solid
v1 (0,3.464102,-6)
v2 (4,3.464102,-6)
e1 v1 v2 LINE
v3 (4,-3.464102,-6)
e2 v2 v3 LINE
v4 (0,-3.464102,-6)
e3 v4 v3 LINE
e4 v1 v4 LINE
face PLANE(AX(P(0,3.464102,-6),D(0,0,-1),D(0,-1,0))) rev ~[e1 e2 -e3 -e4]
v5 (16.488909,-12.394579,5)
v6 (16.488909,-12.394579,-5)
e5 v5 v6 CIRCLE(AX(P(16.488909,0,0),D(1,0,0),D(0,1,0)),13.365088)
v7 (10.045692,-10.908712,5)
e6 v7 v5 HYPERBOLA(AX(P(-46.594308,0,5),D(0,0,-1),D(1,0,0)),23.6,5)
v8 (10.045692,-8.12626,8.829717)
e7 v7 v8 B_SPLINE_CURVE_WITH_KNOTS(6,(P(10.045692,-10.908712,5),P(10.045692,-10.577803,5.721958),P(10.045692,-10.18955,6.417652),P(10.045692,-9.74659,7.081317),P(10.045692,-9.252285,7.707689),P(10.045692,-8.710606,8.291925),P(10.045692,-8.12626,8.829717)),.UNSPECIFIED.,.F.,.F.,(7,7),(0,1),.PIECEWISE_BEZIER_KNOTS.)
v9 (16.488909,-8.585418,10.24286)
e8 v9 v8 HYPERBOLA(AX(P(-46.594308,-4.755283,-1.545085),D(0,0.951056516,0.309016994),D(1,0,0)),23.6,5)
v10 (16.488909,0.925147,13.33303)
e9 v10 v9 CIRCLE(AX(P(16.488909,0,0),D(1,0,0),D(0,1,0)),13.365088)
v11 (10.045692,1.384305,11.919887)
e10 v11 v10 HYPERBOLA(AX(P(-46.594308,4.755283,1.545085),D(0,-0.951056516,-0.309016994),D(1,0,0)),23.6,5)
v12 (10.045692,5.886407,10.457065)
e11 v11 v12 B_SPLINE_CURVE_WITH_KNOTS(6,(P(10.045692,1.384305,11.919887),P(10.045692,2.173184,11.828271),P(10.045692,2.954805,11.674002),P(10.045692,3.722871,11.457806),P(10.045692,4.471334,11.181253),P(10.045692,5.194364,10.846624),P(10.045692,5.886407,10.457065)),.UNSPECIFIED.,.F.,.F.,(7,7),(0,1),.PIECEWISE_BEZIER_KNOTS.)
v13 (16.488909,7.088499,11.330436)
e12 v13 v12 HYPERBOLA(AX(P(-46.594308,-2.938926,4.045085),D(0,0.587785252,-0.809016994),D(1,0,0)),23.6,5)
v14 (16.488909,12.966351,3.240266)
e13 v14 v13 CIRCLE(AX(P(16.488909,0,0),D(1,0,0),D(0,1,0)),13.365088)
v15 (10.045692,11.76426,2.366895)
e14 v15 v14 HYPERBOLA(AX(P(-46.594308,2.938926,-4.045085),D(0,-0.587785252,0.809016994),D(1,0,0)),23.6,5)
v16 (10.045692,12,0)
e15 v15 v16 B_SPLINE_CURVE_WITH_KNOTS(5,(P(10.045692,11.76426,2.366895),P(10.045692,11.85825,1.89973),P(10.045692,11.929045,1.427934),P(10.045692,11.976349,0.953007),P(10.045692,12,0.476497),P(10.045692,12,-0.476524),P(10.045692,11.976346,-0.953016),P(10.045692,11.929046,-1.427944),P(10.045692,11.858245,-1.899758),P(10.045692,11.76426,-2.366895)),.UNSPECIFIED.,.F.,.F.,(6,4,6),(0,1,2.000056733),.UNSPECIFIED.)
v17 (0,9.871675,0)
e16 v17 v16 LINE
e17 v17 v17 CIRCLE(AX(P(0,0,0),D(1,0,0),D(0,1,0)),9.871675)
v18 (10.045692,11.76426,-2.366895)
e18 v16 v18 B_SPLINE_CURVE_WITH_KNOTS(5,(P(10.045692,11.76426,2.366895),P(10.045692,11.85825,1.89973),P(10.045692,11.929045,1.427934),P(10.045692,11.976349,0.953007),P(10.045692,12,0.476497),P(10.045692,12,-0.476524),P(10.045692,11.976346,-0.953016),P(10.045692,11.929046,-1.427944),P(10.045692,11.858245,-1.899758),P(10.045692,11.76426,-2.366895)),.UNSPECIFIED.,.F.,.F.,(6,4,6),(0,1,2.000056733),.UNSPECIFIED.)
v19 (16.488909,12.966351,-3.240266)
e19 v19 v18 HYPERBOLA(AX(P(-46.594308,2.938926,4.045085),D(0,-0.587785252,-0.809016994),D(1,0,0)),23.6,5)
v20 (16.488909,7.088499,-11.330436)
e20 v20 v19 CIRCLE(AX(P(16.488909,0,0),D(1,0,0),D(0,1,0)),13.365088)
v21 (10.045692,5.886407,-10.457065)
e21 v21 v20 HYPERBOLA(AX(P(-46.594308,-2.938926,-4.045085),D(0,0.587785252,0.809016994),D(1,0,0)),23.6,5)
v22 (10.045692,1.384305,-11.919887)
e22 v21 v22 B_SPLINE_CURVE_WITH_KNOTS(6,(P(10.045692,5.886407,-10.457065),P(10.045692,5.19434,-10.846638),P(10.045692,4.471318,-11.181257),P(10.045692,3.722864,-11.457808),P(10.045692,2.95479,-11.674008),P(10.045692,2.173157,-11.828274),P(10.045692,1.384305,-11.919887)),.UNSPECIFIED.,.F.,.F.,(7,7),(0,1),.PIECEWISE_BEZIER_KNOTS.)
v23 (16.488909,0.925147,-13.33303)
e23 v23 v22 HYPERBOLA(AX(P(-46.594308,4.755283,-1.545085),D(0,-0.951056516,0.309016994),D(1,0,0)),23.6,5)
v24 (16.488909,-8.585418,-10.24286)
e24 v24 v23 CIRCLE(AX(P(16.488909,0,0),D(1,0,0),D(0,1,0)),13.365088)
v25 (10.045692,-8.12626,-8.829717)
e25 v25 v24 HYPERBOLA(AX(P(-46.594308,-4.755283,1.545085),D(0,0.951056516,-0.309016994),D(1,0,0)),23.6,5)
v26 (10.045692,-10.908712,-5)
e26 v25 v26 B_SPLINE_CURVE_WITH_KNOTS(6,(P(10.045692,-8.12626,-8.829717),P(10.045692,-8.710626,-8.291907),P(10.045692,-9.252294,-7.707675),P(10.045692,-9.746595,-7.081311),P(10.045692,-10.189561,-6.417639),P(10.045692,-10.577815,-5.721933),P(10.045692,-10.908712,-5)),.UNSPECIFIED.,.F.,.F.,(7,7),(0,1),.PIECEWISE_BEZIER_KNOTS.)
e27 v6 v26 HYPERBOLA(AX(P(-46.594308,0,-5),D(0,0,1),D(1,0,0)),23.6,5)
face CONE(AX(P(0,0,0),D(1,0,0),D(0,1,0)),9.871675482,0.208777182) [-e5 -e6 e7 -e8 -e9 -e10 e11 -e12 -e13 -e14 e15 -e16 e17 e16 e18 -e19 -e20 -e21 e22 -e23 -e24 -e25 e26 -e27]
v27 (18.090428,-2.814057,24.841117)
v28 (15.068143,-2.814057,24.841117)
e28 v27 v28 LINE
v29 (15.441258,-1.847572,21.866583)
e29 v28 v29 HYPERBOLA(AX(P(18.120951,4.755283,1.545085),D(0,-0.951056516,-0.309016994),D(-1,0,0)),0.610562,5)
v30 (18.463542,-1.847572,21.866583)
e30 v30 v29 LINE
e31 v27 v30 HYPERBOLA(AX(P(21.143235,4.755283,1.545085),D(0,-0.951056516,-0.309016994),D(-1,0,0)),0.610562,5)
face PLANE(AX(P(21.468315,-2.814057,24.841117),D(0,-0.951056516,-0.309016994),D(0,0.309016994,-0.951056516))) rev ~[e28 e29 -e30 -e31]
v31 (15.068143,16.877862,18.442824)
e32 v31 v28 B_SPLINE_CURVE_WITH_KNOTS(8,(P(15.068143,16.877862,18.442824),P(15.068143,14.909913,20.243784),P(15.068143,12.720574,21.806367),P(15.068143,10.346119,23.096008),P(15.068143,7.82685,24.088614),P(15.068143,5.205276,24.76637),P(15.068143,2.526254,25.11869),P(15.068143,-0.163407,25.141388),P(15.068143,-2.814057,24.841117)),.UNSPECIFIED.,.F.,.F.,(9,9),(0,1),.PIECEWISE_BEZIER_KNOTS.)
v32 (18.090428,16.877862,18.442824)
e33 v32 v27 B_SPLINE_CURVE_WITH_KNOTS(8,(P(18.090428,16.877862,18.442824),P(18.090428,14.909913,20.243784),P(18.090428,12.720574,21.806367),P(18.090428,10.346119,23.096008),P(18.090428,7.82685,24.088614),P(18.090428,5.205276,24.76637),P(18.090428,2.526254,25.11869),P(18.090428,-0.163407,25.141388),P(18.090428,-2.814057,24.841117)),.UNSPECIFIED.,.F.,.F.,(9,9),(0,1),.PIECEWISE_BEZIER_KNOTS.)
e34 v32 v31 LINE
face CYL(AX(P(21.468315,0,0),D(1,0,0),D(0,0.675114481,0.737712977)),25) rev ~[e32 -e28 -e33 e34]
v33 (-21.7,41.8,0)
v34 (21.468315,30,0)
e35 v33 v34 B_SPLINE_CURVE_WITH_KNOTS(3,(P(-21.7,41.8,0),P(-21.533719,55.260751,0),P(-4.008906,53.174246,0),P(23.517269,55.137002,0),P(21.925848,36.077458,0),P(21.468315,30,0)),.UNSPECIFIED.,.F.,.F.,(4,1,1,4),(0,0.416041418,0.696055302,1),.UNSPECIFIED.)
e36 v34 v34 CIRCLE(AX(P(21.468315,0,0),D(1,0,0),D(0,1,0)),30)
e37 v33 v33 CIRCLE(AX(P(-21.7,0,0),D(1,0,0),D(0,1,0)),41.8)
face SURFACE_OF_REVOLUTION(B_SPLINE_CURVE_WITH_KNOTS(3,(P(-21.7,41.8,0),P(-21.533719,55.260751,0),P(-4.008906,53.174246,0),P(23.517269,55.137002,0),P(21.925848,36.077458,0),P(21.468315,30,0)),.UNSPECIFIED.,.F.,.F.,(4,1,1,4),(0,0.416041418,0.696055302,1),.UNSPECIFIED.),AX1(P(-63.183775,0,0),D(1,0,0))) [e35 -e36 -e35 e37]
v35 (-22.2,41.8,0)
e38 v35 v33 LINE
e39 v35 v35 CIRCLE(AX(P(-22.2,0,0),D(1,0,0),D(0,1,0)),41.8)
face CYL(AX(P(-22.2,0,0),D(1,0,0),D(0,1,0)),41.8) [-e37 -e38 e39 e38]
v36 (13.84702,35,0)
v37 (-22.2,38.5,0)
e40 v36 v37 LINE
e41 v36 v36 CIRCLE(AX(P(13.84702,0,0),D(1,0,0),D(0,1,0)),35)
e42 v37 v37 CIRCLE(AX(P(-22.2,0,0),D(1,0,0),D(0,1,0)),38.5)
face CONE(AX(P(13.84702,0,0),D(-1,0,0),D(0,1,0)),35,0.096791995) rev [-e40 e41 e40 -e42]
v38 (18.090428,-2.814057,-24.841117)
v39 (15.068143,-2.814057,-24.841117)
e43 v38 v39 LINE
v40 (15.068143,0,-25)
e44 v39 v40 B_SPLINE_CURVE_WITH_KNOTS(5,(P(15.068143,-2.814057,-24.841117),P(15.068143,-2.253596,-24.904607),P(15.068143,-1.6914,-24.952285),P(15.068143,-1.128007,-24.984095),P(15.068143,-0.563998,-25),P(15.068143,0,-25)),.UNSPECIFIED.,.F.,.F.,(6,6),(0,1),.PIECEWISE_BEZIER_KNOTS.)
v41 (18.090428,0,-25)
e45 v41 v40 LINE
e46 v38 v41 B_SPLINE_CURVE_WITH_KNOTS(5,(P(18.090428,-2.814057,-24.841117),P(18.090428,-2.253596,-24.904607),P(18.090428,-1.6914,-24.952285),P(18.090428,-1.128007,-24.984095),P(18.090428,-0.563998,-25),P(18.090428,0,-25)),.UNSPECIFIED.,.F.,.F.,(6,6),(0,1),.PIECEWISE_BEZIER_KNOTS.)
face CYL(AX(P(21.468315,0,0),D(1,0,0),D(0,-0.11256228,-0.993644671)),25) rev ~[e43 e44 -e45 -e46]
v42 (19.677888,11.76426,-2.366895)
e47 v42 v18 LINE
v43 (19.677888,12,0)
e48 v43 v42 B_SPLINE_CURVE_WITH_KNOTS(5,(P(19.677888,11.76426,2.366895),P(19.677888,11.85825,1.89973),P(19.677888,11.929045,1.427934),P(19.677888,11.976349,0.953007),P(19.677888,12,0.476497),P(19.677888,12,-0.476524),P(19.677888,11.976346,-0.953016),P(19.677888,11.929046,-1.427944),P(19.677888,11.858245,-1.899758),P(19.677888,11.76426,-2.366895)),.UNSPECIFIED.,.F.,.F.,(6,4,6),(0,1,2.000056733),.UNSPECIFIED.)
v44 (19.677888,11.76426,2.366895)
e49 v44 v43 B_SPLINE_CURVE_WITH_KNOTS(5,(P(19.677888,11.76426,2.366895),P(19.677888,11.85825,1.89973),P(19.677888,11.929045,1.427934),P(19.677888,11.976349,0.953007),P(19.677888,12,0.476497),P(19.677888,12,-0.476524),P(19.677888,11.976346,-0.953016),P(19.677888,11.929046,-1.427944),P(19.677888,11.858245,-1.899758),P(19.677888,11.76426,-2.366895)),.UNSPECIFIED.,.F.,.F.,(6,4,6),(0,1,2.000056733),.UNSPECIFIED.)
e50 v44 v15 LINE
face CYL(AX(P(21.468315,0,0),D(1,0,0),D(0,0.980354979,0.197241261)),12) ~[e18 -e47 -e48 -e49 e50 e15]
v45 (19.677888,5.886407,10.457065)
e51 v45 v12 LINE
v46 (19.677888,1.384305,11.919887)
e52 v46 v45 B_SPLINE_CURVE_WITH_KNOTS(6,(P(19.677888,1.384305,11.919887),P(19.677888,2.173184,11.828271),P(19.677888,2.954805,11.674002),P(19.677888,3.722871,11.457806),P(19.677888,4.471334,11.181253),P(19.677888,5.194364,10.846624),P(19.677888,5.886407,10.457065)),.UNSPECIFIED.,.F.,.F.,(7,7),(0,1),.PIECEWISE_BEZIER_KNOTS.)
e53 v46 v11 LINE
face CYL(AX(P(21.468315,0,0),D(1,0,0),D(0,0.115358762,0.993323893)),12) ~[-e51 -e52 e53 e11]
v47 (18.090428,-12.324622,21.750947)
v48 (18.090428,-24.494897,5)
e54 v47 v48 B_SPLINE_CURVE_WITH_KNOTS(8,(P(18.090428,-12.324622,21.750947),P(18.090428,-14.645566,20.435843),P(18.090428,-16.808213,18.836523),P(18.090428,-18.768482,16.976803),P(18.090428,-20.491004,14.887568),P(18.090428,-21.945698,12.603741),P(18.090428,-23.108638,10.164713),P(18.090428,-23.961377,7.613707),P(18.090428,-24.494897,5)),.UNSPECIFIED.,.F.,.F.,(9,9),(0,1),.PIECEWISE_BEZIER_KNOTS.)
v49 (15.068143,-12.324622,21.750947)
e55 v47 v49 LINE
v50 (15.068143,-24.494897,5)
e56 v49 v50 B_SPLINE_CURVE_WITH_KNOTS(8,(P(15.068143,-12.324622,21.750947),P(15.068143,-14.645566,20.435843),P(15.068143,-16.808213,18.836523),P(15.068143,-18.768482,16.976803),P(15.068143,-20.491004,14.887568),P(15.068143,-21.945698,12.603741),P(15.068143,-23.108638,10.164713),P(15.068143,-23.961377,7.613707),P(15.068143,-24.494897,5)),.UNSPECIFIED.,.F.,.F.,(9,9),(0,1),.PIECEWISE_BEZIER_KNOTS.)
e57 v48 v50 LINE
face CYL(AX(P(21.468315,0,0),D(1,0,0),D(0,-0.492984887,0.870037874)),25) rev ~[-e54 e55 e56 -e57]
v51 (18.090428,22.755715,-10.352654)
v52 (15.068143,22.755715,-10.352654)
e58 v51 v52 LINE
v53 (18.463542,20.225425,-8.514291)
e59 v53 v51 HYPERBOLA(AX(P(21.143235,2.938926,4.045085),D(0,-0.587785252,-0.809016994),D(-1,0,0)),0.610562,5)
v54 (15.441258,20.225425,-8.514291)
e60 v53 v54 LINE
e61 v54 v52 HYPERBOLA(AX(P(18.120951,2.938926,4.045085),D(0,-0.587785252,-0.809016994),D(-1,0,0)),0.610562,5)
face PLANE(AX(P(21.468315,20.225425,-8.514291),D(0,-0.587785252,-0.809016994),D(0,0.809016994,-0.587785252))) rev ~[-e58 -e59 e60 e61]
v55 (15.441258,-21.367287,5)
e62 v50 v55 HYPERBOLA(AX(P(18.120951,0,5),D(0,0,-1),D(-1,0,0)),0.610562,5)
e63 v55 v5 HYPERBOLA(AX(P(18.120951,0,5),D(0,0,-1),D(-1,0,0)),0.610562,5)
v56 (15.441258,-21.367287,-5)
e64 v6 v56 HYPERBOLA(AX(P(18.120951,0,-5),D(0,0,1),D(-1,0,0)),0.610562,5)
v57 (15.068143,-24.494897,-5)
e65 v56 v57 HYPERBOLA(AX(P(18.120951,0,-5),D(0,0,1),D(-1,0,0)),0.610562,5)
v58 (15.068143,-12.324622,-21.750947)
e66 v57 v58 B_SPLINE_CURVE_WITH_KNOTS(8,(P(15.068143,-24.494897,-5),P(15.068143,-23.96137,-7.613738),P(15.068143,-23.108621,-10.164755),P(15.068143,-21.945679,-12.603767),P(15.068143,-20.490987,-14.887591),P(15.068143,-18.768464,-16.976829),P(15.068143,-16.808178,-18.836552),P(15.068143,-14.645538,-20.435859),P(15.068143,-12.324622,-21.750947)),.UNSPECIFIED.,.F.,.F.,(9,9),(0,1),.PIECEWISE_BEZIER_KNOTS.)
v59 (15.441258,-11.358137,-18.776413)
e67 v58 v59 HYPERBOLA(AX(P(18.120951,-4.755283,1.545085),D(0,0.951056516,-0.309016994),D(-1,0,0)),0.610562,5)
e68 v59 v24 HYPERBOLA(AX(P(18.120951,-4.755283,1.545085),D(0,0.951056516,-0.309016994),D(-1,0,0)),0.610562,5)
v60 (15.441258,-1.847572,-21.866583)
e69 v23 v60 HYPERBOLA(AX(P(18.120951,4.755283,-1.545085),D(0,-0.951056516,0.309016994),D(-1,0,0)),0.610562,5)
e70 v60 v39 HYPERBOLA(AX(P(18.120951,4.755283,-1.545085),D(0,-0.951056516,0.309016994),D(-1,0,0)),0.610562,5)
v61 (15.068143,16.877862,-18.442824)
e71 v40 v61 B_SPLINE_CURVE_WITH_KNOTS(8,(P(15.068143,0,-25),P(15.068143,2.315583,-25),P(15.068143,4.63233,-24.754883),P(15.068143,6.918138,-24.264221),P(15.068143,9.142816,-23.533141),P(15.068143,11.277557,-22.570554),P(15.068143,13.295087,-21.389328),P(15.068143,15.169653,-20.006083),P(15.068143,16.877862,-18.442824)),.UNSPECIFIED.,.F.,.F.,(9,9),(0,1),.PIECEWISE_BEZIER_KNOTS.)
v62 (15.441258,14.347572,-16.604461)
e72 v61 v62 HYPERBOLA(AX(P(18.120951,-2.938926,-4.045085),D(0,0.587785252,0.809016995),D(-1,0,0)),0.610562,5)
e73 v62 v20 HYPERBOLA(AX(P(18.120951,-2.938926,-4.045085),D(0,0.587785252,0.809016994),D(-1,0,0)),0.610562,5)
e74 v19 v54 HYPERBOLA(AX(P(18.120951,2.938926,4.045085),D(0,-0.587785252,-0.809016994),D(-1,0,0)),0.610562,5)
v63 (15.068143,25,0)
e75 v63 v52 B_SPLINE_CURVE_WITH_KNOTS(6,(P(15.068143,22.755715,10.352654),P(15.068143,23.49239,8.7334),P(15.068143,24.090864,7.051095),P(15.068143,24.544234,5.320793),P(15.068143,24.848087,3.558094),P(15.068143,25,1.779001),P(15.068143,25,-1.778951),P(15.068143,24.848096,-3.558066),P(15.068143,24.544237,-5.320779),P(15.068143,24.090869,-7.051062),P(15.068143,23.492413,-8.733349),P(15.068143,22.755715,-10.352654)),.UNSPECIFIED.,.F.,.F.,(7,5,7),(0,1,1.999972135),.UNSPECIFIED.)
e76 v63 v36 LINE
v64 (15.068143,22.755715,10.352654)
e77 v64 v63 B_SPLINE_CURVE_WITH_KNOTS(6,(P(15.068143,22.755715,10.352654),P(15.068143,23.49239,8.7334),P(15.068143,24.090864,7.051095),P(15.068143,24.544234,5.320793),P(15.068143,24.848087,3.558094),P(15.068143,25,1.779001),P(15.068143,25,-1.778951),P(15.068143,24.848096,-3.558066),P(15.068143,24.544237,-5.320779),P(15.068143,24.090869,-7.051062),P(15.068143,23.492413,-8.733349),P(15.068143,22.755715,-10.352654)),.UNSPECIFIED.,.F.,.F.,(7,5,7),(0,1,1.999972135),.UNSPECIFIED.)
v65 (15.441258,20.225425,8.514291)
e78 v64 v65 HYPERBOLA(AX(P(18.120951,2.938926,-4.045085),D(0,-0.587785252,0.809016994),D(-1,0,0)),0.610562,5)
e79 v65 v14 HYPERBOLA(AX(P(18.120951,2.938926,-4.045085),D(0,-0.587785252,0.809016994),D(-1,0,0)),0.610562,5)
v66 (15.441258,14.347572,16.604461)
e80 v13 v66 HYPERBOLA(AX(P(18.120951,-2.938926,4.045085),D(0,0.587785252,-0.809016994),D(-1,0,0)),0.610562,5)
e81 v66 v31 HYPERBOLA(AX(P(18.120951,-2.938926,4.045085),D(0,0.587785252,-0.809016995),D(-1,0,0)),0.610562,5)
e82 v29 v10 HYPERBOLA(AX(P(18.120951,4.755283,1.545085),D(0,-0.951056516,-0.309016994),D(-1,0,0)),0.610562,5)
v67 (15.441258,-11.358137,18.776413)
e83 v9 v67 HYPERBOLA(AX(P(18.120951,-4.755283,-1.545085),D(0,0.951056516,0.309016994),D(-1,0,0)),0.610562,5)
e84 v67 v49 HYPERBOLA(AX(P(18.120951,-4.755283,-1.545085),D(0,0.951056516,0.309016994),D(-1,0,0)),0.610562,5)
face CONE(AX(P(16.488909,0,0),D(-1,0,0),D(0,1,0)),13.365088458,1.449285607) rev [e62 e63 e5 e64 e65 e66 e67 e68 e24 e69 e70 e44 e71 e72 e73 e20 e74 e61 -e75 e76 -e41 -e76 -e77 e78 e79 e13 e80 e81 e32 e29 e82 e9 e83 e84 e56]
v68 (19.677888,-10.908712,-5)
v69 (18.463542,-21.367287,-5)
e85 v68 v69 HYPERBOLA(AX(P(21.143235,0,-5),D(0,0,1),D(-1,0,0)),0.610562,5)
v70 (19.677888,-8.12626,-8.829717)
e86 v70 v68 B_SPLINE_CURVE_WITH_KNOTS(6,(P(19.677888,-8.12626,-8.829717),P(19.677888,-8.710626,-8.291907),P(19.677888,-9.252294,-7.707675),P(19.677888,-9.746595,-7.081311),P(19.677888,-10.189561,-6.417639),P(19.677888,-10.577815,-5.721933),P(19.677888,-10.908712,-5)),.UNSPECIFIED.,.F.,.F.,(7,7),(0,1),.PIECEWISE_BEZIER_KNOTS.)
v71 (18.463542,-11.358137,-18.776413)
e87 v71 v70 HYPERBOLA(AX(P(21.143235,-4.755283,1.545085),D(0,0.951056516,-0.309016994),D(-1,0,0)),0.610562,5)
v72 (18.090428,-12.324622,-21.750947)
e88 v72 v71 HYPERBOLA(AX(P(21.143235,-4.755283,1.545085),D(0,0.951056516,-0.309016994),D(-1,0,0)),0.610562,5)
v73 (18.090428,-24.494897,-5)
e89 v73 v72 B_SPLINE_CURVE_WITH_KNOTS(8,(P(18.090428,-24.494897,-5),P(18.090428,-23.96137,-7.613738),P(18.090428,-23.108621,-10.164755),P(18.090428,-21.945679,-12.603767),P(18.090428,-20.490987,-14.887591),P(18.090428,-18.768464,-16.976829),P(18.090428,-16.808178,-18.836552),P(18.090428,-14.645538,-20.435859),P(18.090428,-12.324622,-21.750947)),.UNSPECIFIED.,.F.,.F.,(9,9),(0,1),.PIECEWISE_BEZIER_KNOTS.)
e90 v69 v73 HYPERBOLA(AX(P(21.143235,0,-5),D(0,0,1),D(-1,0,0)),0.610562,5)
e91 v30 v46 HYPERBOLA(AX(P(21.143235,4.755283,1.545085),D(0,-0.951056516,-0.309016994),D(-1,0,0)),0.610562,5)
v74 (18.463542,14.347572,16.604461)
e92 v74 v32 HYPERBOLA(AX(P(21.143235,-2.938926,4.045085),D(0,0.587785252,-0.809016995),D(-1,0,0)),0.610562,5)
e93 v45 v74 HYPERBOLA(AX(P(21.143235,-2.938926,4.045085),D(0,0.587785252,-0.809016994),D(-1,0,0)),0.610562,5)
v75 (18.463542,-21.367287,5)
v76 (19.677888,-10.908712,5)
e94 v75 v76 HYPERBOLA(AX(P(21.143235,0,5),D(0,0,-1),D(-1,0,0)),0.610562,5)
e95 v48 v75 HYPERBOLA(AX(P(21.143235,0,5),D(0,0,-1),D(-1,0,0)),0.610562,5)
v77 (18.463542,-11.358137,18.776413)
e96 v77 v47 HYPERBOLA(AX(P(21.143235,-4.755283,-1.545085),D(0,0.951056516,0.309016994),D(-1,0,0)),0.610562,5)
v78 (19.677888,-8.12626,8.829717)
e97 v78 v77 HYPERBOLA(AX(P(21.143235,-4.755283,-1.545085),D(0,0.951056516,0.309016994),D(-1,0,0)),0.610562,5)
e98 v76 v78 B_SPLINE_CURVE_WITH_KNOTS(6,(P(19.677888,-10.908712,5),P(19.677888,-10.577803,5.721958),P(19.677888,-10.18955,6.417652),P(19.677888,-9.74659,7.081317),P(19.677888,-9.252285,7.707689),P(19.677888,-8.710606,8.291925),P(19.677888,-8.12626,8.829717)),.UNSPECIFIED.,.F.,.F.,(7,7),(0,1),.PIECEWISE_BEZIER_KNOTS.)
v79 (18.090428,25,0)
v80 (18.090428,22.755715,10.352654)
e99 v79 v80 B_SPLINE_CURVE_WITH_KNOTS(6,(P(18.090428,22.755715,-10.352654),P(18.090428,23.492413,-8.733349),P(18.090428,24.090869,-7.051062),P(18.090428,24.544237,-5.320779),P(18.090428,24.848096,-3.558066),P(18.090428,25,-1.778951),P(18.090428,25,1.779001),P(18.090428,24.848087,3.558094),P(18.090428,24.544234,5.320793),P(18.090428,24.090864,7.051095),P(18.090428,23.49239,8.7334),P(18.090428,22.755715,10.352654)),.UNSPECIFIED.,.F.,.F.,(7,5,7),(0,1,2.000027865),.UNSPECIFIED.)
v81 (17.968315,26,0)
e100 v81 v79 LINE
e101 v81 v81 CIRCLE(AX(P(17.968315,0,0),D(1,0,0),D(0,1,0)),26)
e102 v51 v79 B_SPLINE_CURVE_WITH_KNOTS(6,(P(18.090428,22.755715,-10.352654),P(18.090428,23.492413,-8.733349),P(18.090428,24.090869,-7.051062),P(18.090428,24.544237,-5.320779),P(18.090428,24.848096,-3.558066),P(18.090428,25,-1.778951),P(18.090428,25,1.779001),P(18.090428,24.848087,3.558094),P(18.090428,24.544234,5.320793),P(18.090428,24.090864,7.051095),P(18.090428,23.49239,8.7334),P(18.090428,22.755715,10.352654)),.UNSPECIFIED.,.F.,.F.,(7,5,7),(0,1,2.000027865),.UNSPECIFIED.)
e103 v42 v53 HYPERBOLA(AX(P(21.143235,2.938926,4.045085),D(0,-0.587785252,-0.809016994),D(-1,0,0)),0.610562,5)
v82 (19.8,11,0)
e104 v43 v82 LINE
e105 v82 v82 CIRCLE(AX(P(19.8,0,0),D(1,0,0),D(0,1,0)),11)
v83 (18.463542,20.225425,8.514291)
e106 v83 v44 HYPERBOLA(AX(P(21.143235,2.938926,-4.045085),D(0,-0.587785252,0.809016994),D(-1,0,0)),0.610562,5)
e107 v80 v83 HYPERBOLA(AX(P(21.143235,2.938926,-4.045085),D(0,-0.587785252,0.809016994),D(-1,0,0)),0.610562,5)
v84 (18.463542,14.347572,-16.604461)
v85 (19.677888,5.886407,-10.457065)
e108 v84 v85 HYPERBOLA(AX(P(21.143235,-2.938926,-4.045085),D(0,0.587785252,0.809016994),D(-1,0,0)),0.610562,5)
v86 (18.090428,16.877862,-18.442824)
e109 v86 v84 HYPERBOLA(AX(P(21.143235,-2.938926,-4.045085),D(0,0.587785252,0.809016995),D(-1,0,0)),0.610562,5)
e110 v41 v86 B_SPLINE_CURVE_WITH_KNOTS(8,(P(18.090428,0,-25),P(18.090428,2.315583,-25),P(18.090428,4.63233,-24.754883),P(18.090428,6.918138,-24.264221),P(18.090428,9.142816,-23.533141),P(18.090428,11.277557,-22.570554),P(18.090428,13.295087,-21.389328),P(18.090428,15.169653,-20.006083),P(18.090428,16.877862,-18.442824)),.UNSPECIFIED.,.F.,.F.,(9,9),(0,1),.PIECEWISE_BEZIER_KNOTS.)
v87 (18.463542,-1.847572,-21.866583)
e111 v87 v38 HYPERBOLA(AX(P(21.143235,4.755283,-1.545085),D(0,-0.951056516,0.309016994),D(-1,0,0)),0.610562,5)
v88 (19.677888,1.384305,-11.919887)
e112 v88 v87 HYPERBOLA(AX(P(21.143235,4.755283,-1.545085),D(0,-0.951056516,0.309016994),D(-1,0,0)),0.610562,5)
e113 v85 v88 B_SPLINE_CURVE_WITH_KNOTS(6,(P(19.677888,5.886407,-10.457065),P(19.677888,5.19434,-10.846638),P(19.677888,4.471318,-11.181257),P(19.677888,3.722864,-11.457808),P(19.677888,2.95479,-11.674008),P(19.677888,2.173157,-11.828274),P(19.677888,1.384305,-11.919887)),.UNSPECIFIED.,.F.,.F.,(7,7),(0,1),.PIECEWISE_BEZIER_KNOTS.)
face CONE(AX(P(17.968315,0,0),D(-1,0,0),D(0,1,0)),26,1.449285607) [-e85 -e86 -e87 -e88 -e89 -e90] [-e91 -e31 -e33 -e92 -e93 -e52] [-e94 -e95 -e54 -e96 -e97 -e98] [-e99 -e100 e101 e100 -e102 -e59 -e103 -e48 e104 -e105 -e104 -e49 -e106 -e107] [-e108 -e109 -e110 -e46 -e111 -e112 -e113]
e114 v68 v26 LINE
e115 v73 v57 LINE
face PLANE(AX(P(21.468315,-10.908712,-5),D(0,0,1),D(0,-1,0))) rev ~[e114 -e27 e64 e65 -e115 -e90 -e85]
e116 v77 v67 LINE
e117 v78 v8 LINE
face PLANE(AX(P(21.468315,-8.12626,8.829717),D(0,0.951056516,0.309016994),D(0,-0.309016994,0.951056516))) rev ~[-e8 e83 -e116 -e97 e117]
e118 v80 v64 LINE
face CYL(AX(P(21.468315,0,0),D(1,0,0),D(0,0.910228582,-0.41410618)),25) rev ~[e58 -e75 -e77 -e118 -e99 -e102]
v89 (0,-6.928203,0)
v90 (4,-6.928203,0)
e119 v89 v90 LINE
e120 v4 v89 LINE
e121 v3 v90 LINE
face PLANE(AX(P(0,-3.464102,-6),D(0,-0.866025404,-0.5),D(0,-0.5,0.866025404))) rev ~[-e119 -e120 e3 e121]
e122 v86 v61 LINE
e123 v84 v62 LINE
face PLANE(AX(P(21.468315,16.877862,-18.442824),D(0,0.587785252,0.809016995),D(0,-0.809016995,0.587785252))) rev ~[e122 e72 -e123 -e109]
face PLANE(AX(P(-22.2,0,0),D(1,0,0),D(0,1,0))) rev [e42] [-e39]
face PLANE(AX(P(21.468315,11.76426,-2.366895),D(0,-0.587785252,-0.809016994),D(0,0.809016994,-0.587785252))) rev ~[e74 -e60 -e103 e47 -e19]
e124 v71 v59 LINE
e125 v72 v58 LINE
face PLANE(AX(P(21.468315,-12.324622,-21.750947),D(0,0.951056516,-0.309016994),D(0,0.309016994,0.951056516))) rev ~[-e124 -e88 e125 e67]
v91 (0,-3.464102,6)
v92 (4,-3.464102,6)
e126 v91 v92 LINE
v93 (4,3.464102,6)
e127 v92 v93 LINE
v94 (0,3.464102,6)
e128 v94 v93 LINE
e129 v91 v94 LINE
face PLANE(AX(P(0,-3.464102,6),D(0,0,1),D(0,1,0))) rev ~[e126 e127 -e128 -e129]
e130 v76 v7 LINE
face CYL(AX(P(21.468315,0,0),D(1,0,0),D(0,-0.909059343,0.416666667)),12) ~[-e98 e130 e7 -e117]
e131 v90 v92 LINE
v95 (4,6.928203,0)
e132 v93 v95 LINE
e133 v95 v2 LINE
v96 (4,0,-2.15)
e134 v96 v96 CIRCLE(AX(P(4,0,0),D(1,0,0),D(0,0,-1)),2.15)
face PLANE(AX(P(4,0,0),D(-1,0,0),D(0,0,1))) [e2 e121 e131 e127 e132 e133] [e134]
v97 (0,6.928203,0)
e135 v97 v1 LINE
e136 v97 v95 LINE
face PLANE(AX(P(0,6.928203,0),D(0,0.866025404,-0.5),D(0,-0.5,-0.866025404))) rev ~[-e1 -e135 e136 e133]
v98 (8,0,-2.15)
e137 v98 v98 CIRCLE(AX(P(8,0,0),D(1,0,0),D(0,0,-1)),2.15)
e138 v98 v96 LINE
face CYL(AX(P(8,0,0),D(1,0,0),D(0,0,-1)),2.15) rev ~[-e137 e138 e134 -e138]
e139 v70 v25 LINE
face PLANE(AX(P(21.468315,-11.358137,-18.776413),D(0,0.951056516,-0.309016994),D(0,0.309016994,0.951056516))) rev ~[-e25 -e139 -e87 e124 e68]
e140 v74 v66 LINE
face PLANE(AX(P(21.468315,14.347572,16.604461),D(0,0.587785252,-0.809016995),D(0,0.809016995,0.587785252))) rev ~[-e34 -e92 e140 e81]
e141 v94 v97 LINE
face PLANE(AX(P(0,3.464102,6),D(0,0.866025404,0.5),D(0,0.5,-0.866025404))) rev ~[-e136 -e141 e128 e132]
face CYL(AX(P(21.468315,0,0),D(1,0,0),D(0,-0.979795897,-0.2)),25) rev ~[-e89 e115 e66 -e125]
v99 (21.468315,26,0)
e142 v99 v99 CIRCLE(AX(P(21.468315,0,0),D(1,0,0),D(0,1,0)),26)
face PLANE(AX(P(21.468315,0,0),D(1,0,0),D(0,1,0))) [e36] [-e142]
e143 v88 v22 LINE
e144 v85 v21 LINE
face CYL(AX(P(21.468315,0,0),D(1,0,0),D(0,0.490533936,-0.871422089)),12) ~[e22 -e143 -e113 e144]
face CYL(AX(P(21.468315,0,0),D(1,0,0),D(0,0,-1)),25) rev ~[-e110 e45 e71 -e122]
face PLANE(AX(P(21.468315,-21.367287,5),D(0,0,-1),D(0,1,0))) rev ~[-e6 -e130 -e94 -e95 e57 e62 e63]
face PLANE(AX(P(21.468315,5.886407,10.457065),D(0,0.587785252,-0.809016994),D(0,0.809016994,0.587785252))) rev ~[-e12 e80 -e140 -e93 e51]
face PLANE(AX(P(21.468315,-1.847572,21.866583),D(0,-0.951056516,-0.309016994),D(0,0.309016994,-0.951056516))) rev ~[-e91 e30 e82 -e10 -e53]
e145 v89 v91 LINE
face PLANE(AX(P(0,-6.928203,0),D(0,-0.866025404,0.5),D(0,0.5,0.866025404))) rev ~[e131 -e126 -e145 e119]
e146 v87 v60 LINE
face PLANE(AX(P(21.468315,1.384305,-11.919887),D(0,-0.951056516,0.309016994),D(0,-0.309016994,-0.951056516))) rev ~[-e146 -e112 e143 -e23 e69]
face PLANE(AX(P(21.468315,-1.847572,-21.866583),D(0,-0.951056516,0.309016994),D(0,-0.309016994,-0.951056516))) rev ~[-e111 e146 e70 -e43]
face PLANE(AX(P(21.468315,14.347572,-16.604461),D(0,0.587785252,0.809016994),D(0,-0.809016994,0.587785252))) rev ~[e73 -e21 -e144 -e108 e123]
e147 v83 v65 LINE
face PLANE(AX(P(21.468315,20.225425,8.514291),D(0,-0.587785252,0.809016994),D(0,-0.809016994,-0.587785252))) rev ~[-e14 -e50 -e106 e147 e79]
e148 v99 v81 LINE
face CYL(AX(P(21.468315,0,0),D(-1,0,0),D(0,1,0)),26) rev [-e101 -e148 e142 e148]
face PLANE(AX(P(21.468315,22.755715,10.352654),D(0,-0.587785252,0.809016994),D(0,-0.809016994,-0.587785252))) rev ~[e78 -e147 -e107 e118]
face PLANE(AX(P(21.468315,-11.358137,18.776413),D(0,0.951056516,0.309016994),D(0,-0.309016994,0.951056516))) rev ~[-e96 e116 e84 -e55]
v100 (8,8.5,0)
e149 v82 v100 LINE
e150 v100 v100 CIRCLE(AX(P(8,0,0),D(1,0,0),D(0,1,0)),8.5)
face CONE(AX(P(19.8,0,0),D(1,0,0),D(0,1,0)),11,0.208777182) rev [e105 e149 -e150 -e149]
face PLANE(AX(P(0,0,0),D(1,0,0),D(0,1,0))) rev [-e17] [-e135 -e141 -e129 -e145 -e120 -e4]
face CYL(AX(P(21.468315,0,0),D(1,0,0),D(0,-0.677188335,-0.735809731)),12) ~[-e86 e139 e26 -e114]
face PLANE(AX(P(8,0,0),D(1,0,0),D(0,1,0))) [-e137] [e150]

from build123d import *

# Parameters (mm, degrees)
CUT_EXTRUDE1_REACH = 32.2
SKETCH3_R          = 2.15
CUT_EXTRUDE2_REACH = 45.668
CUT_EXTRUDE3_DEPTH = 4


with BuildPart() as part:
    # Sketch2 → Revolve1 (revolve)
    with BuildSketch(Plane.XY):
        with BuildLine():
            Line((0, 0), (0, 9.871675482))
            Line((0, 9.871675482), (16.488909248, 13.365088458))
            Line((16.488909248, 13.365088458), (13.847020393, 35))
            Line((13.847020393, 35), (-22.2, 38.5))
            Line((-22.2, 38.5), (-22.2, 41.8))
            Line((-22.2, 41.8), (-21.7, 41.8))
            add(Edge.make_bspline(
                [(-21.7, 41.8), (-21.533718516, 55.260750985), (-4.008905518, 53.174245615), (23.517269043, 55.137002211), (21.925848048, 36.077457734), (21.468315468, 30)],
                knots=[0, 0, 0, 0, 0.416041418, 0.696055302, 1, 1, 1, 1], degree=3))
            Line((21.468315468, 30), (21.468315468, 26))
            Line((21.468315468, 26), (17.968315468, 26))
            Line((17.968315468, 26), (19.8, 11))
            Line((19.8, 11), (8, 8.5))
            Line((8, 8.5), (8, 0))
            Line((8, 0), (0, 0))
        make_face()
    revolve(axis=Axis((-63.183775164, 0, 0), (1, 0, 0)))

    # Sketch3 → Cut-Extrude1 (cut, up to next)
    with BuildSketch(Plane(origin=(8, 0, 0), x_dir=(0, 0, -1), z_dir=(1, 0, 0)), mode=Mode.PRIVATE) as cut_extrude1_sk1:
        Circle(SKETCH3_R)
    cut_extrude1_tool1 = extrude(cut_extrude1_sk1.sketch, amount=-CUT_EXTRUDE1_REACH, mode=Mode.PRIVATE) & part.part
    add(cut_extrude1_tool1.solids().sort_by_distance((8, 0, 0))[0], mode=Mode.SUBTRACT)

    # Sketch4 → Cut-Extrude2 (cut, up to next)
    with BuildSketch(Plane(origin=(21.468315468, 0, 0), x_dir=(0, 0, -1), z_dir=(1, 0, 0)), mode=Mode.PRIVATE) as cut_extrude2_sk1:
        with BuildLine():
            Line((-8.51429142, 20.225424859), (8.51429142, 20.225424859))
            Line((8.51429142, 20.225424859), (10.352654493, 22.755714556))
            ThreePointArc((10.352654493, 22.755714556), (0, 25), (-10.352654493, 22.755714556))
            Line((-10.352654493, 22.755714556), (-8.51429142, 20.225424859))
        make_face()
    cut_extrude2_tool1 = extrude(cut_extrude2_sk1.sketch, amount=-CUT_EXTRUDE2_REACH, mode=Mode.PRIVATE) & part.part
    add(cut_extrude2_tool1.solids().sort_by_distance((21.468315, 22.372787, 0))[0], mode=Mode.SUBTRACT)
    # Sketch4 → Cut-Extrude2 (cut, up to next)
    with BuildSketch(Plane(origin=(21.468315468, 0, 0), x_dir=(0, 0, -1), z_dir=(1, 0, 0)), mode=Mode.PRIVATE) as cut_extrude2_sk2:
        with BuildLine():
            Line((-8.51429142, 20.225424859), (-2.366895131, 11.764259749))
            ThreePointArc((-2.366895131, 11.764259749), (0, 12), (2.366895131, 11.764259749))
            Line((2.366895131, 11.764259749), (8.51429142, 20.225424859))
            Line((8.51429142, 20.225424859), (-8.51429142, 20.225424859))
        make_face()
    cut_extrude2_tool2 = extrude(cut_extrude2_sk2.sketch, amount=-CUT_EXTRUDE2_REACH, mode=Mode.PRIVATE) & part.part
    add(cut_extrude2_tool2.solids().sort_by_distance((21.468315, 16.831807, 0))[0], mode=Mode.SUBTRACT)
    # Sketch4 → Cut-Extrude2 (cut, up to next)
    with BuildSketch(Plane(origin=(21.468315468, 0, 0), x_dir=(0, 0, -1), z_dir=(1, 0, 0)), mode=Mode.PRIVATE) as cut_extrude2_sk3:
        with BuildLine():
            Line((16.604461364, 14.347572336), (21.866582851, -1.847572336))
            Line((21.866582851, -1.847572336), (24.841116787, -2.814056999))
            ThreePointArc((24.841116787, -2.814056999), (24.960247592, -1.409269374), (25, 0))
            ThreePointArc((25, 0), (23.303117934, 9.053435511), (18.442824436, 16.877862033))
            Line((18.442824436, 16.877862033), (16.604461364, 14.347572336))
        make_face()
    cut_extrude2_tool3 = extrude(cut_extrude2_sk3.sketch, amount=-CUT_EXTRUDE2_REACH, mode=Mode.PRIVATE) & part.part
    add(cut_extrude2_tool3.solids().sort_by_distance((21.468315, 6.913571, -21.277785))[0], mode=Mode.SUBTRACT)
    # Sketch4 → Cut-Extrude2 (cut, up to next)
    with BuildSketch(Plane(origin=(21.468315468, 0, 0), x_dir=(0, 0, -1), z_dir=(1, 0, 0)), mode=Mode.PRIVATE) as cut_extrude2_sk4:
        with BuildLine():
            Line((11.919886713, 1.384305151), (21.866582851, -1.847572336))
            Line((21.866582851, -1.847572336), (16.604461364, 14.347572336))
            Line((16.604461364, 14.347572336), (10.457065074, 5.886407226))
            ThreePointArc((10.457065074, 5.886407226), (11.412678196, 3.708203932), (11.919886713, 1.384305151))
        make_face()
    cut_extrude2_tool4 = extrude(cut_extrude2_sk4.sketch, amount=-CUT_EXTRUDE2_REACH, mode=Mode.PRIVATE) & part.part
    add(cut_extrude2_tool4.solids().sort_by_distance((21.468315, 5.201314, -16.007999))[0], mode=Mode.SUBTRACT)
    # Sketch4 → Cut-Extrude2 (cut, up to next)
    with BuildSketch(Plane(origin=(21.468315468, 0, 0), x_dir=(0, 0, -1), z_dir=(1, 0, 0)), mode=Mode.PRIVATE) as cut_extrude2_sk5:
        with BuildLine():
            Line((18.776412907, -11.358137499), (5, -21.36728736))
            Line((5, -21.36728736), (5, -24.494897428))
            ThreePointArc((5, -24.494897428), (14.694631307, -20.225424859), (21.750946843, -12.324622162))
            Line((21.750946843, -12.324622162), (18.776412907, -11.358137499))
        make_face()
    cut_extrude2_tool5 = extrude(cut_extrude2_sk5.sketch, amount=-CUT_EXTRUDE2_REACH, mode=Mode.PRIVATE) & part.part
    add(cut_extrude2_tool5.solids().sort_by_distance((21.468315, -18.099965, -13.150394))[0], mode=Mode.SUBTRACT)
    # Sketch4 → Cut-Extrude2 (cut, up to next)
    with BuildSketch(Plane(origin=(21.468315468, 0, 0), x_dir=(0, 0, -1), z_dir=(1, 0, 0)), mode=Mode.PRIVATE) as cut_extrude2_sk6:
        with BuildLine():
            Line((5, -10.908712115), (5, -21.36728736))
            Line((5, -21.36728736), (18.776412907, -11.358137499))
            Line((18.776412907, -11.358137499), (8.829716769, -8.126260012))
            ThreePointArc((8.829716769, -8.126260012), (7.053423028, -9.708203932), (5, -10.908712115))
        make_face()
    cut_extrude2_tool6 = extrude(cut_extrude2_sk6.sketch, amount=-CUT_EXTRUDE2_REACH, mode=Mode.PRIVATE) & part.part
    add(cut_extrude2_tool6.solids().sort_by_distance((21.468315, -13.617218, -9.893488))[0], mode=Mode.SUBTRACT)
    # Sketch4 → Cut-Extrude2 (cut, up to next)
    with BuildSketch(Plane(origin=(21.468315468, 0, 0), x_dir=(0, 0, -1), z_dir=(1, 0, 0)), mode=Mode.PRIVATE) as cut_extrude2_sk7:
        with BuildLine():
            Line((-5, -24.494897428), (-5, -21.36728736))
            Line((-5, -21.36728736), (-18.776412907, -11.358137499))
            Line((-18.776412907, -11.358137499), (-21.750946843, -12.324622162))
            ThreePointArc((-21.750946843, -12.324622162), (-14.694631307, -20.225424859), (-5, -24.494897428))
        make_face()
    cut_extrude2_tool7 = extrude(cut_extrude2_sk7.sketch, amount=-CUT_EXTRUDE2_REACH, mode=Mode.PRIVATE) & part.part
    add(cut_extrude2_tool7.solids().sort_by_distance((21.468315, -18.099965, 13.150394))[0], mode=Mode.SUBTRACT)
    # Sketch4 → Cut-Extrude2 (cut, up to next)
    with BuildSketch(Plane(origin=(21.468315468, 0, 0), x_dir=(0, 0, -1), z_dir=(1, 0, 0)), mode=Mode.PRIVATE) as cut_extrude2_sk8:
        with BuildLine():
            Line((-18.776412907, -11.358137499), (-5, -21.36728736))
            Line((-5, -21.36728736), (-5, -10.908712115))
            ThreePointArc((-5, -10.908712115), (-7.053423028, -9.708203932), (-8.829716769, -8.126260012))
            Line((-8.829716769, -8.126260012), (-18.776412907, -11.358137499))
        make_face()
    cut_extrude2_tool8 = extrude(cut_extrude2_sk8.sketch, amount=-CUT_EXTRUDE2_REACH, mode=Mode.PRIVATE) & part.part
    add(cut_extrude2_tool8.solids().sort_by_distance((21.468315, -13.617218, 9.893488))[0], mode=Mode.SUBTRACT)
    # Sketch4 → Cut-Extrude2 (cut, up to next)
    with BuildSketch(Plane(origin=(21.468315468, 0, 0), x_dir=(0, 0, -1), z_dir=(1, 0, 0)), mode=Mode.PRIVATE) as cut_extrude2_sk9:
        with BuildLine():
            Line((-24.841116787, -2.814056999), (-21.866582851, -1.847572336))
            Line((-21.866582851, -1.847572336), (-16.604461364, 14.347572336))
            Line((-16.604461364, 14.347572336), (-18.442824436, 16.877862033))
            ThreePointArc((-18.442824436, 16.877862033), (-23.776412907, 7.725424859), (-24.841116787, -2.814056999))
        make_face()
    cut_extrude2_tool9 = extrude(cut_extrude2_sk9.sketch, amount=-CUT_EXTRUDE2_REACH, mode=Mode.PRIVATE) & part.part
    add(cut_extrude2_tool9.solids().sort_by_distance((21.468315, 6.913571, 21.277785))[0], mode=Mode.SUBTRACT)
    # Sketch4 → Cut-Extrude2 (cut, up to next)
    with BuildSketch(Plane(origin=(21.468315468, 0, 0), x_dir=(0, 0, -1), z_dir=(1, 0, 0)), mode=Mode.PRIVATE) as cut_extrude2_sk10:
        with BuildLine():
            Line((-16.604461364, 14.347572336), (-21.866582851, -1.847572336))
            Line((-21.866582851, -1.847572336), (-11.919886713, 1.384305151))
            ThreePointArc((-11.919886713, 1.384305151), (-11.412678196, 3.708203932), (-10.457065074, 5.886407226))
            Line((-10.457065074, 5.886407226), (-16.604461364, 14.347572336))
        make_face()
    cut_extrude2_tool10 = extrude(cut_extrude2_sk10.sketch, amount=-CUT_EXTRUDE2_REACH, mode=Mode.PRIVATE) & part.part
    add(cut_extrude2_tool10.solids().sort_by_distance((21.468315, 5.201314, 16.007999))[0], mode=Mode.SUBTRACT)

    # Sketch5 → Cut-Extrude3 (cut)
    with BuildSketch(Plane.ZY):
        Polygon((0, -6.92820323), (6, -3.464101615), (6, 3.464101615), (0, 6.92820323), (-6, 3.464101615), (-6, -3.464101615), align=None)
    extrude(amount=-CUT_EXTRUDE3_DEPTH, mode=Mode.SUBTRACT)


solid = part.part
